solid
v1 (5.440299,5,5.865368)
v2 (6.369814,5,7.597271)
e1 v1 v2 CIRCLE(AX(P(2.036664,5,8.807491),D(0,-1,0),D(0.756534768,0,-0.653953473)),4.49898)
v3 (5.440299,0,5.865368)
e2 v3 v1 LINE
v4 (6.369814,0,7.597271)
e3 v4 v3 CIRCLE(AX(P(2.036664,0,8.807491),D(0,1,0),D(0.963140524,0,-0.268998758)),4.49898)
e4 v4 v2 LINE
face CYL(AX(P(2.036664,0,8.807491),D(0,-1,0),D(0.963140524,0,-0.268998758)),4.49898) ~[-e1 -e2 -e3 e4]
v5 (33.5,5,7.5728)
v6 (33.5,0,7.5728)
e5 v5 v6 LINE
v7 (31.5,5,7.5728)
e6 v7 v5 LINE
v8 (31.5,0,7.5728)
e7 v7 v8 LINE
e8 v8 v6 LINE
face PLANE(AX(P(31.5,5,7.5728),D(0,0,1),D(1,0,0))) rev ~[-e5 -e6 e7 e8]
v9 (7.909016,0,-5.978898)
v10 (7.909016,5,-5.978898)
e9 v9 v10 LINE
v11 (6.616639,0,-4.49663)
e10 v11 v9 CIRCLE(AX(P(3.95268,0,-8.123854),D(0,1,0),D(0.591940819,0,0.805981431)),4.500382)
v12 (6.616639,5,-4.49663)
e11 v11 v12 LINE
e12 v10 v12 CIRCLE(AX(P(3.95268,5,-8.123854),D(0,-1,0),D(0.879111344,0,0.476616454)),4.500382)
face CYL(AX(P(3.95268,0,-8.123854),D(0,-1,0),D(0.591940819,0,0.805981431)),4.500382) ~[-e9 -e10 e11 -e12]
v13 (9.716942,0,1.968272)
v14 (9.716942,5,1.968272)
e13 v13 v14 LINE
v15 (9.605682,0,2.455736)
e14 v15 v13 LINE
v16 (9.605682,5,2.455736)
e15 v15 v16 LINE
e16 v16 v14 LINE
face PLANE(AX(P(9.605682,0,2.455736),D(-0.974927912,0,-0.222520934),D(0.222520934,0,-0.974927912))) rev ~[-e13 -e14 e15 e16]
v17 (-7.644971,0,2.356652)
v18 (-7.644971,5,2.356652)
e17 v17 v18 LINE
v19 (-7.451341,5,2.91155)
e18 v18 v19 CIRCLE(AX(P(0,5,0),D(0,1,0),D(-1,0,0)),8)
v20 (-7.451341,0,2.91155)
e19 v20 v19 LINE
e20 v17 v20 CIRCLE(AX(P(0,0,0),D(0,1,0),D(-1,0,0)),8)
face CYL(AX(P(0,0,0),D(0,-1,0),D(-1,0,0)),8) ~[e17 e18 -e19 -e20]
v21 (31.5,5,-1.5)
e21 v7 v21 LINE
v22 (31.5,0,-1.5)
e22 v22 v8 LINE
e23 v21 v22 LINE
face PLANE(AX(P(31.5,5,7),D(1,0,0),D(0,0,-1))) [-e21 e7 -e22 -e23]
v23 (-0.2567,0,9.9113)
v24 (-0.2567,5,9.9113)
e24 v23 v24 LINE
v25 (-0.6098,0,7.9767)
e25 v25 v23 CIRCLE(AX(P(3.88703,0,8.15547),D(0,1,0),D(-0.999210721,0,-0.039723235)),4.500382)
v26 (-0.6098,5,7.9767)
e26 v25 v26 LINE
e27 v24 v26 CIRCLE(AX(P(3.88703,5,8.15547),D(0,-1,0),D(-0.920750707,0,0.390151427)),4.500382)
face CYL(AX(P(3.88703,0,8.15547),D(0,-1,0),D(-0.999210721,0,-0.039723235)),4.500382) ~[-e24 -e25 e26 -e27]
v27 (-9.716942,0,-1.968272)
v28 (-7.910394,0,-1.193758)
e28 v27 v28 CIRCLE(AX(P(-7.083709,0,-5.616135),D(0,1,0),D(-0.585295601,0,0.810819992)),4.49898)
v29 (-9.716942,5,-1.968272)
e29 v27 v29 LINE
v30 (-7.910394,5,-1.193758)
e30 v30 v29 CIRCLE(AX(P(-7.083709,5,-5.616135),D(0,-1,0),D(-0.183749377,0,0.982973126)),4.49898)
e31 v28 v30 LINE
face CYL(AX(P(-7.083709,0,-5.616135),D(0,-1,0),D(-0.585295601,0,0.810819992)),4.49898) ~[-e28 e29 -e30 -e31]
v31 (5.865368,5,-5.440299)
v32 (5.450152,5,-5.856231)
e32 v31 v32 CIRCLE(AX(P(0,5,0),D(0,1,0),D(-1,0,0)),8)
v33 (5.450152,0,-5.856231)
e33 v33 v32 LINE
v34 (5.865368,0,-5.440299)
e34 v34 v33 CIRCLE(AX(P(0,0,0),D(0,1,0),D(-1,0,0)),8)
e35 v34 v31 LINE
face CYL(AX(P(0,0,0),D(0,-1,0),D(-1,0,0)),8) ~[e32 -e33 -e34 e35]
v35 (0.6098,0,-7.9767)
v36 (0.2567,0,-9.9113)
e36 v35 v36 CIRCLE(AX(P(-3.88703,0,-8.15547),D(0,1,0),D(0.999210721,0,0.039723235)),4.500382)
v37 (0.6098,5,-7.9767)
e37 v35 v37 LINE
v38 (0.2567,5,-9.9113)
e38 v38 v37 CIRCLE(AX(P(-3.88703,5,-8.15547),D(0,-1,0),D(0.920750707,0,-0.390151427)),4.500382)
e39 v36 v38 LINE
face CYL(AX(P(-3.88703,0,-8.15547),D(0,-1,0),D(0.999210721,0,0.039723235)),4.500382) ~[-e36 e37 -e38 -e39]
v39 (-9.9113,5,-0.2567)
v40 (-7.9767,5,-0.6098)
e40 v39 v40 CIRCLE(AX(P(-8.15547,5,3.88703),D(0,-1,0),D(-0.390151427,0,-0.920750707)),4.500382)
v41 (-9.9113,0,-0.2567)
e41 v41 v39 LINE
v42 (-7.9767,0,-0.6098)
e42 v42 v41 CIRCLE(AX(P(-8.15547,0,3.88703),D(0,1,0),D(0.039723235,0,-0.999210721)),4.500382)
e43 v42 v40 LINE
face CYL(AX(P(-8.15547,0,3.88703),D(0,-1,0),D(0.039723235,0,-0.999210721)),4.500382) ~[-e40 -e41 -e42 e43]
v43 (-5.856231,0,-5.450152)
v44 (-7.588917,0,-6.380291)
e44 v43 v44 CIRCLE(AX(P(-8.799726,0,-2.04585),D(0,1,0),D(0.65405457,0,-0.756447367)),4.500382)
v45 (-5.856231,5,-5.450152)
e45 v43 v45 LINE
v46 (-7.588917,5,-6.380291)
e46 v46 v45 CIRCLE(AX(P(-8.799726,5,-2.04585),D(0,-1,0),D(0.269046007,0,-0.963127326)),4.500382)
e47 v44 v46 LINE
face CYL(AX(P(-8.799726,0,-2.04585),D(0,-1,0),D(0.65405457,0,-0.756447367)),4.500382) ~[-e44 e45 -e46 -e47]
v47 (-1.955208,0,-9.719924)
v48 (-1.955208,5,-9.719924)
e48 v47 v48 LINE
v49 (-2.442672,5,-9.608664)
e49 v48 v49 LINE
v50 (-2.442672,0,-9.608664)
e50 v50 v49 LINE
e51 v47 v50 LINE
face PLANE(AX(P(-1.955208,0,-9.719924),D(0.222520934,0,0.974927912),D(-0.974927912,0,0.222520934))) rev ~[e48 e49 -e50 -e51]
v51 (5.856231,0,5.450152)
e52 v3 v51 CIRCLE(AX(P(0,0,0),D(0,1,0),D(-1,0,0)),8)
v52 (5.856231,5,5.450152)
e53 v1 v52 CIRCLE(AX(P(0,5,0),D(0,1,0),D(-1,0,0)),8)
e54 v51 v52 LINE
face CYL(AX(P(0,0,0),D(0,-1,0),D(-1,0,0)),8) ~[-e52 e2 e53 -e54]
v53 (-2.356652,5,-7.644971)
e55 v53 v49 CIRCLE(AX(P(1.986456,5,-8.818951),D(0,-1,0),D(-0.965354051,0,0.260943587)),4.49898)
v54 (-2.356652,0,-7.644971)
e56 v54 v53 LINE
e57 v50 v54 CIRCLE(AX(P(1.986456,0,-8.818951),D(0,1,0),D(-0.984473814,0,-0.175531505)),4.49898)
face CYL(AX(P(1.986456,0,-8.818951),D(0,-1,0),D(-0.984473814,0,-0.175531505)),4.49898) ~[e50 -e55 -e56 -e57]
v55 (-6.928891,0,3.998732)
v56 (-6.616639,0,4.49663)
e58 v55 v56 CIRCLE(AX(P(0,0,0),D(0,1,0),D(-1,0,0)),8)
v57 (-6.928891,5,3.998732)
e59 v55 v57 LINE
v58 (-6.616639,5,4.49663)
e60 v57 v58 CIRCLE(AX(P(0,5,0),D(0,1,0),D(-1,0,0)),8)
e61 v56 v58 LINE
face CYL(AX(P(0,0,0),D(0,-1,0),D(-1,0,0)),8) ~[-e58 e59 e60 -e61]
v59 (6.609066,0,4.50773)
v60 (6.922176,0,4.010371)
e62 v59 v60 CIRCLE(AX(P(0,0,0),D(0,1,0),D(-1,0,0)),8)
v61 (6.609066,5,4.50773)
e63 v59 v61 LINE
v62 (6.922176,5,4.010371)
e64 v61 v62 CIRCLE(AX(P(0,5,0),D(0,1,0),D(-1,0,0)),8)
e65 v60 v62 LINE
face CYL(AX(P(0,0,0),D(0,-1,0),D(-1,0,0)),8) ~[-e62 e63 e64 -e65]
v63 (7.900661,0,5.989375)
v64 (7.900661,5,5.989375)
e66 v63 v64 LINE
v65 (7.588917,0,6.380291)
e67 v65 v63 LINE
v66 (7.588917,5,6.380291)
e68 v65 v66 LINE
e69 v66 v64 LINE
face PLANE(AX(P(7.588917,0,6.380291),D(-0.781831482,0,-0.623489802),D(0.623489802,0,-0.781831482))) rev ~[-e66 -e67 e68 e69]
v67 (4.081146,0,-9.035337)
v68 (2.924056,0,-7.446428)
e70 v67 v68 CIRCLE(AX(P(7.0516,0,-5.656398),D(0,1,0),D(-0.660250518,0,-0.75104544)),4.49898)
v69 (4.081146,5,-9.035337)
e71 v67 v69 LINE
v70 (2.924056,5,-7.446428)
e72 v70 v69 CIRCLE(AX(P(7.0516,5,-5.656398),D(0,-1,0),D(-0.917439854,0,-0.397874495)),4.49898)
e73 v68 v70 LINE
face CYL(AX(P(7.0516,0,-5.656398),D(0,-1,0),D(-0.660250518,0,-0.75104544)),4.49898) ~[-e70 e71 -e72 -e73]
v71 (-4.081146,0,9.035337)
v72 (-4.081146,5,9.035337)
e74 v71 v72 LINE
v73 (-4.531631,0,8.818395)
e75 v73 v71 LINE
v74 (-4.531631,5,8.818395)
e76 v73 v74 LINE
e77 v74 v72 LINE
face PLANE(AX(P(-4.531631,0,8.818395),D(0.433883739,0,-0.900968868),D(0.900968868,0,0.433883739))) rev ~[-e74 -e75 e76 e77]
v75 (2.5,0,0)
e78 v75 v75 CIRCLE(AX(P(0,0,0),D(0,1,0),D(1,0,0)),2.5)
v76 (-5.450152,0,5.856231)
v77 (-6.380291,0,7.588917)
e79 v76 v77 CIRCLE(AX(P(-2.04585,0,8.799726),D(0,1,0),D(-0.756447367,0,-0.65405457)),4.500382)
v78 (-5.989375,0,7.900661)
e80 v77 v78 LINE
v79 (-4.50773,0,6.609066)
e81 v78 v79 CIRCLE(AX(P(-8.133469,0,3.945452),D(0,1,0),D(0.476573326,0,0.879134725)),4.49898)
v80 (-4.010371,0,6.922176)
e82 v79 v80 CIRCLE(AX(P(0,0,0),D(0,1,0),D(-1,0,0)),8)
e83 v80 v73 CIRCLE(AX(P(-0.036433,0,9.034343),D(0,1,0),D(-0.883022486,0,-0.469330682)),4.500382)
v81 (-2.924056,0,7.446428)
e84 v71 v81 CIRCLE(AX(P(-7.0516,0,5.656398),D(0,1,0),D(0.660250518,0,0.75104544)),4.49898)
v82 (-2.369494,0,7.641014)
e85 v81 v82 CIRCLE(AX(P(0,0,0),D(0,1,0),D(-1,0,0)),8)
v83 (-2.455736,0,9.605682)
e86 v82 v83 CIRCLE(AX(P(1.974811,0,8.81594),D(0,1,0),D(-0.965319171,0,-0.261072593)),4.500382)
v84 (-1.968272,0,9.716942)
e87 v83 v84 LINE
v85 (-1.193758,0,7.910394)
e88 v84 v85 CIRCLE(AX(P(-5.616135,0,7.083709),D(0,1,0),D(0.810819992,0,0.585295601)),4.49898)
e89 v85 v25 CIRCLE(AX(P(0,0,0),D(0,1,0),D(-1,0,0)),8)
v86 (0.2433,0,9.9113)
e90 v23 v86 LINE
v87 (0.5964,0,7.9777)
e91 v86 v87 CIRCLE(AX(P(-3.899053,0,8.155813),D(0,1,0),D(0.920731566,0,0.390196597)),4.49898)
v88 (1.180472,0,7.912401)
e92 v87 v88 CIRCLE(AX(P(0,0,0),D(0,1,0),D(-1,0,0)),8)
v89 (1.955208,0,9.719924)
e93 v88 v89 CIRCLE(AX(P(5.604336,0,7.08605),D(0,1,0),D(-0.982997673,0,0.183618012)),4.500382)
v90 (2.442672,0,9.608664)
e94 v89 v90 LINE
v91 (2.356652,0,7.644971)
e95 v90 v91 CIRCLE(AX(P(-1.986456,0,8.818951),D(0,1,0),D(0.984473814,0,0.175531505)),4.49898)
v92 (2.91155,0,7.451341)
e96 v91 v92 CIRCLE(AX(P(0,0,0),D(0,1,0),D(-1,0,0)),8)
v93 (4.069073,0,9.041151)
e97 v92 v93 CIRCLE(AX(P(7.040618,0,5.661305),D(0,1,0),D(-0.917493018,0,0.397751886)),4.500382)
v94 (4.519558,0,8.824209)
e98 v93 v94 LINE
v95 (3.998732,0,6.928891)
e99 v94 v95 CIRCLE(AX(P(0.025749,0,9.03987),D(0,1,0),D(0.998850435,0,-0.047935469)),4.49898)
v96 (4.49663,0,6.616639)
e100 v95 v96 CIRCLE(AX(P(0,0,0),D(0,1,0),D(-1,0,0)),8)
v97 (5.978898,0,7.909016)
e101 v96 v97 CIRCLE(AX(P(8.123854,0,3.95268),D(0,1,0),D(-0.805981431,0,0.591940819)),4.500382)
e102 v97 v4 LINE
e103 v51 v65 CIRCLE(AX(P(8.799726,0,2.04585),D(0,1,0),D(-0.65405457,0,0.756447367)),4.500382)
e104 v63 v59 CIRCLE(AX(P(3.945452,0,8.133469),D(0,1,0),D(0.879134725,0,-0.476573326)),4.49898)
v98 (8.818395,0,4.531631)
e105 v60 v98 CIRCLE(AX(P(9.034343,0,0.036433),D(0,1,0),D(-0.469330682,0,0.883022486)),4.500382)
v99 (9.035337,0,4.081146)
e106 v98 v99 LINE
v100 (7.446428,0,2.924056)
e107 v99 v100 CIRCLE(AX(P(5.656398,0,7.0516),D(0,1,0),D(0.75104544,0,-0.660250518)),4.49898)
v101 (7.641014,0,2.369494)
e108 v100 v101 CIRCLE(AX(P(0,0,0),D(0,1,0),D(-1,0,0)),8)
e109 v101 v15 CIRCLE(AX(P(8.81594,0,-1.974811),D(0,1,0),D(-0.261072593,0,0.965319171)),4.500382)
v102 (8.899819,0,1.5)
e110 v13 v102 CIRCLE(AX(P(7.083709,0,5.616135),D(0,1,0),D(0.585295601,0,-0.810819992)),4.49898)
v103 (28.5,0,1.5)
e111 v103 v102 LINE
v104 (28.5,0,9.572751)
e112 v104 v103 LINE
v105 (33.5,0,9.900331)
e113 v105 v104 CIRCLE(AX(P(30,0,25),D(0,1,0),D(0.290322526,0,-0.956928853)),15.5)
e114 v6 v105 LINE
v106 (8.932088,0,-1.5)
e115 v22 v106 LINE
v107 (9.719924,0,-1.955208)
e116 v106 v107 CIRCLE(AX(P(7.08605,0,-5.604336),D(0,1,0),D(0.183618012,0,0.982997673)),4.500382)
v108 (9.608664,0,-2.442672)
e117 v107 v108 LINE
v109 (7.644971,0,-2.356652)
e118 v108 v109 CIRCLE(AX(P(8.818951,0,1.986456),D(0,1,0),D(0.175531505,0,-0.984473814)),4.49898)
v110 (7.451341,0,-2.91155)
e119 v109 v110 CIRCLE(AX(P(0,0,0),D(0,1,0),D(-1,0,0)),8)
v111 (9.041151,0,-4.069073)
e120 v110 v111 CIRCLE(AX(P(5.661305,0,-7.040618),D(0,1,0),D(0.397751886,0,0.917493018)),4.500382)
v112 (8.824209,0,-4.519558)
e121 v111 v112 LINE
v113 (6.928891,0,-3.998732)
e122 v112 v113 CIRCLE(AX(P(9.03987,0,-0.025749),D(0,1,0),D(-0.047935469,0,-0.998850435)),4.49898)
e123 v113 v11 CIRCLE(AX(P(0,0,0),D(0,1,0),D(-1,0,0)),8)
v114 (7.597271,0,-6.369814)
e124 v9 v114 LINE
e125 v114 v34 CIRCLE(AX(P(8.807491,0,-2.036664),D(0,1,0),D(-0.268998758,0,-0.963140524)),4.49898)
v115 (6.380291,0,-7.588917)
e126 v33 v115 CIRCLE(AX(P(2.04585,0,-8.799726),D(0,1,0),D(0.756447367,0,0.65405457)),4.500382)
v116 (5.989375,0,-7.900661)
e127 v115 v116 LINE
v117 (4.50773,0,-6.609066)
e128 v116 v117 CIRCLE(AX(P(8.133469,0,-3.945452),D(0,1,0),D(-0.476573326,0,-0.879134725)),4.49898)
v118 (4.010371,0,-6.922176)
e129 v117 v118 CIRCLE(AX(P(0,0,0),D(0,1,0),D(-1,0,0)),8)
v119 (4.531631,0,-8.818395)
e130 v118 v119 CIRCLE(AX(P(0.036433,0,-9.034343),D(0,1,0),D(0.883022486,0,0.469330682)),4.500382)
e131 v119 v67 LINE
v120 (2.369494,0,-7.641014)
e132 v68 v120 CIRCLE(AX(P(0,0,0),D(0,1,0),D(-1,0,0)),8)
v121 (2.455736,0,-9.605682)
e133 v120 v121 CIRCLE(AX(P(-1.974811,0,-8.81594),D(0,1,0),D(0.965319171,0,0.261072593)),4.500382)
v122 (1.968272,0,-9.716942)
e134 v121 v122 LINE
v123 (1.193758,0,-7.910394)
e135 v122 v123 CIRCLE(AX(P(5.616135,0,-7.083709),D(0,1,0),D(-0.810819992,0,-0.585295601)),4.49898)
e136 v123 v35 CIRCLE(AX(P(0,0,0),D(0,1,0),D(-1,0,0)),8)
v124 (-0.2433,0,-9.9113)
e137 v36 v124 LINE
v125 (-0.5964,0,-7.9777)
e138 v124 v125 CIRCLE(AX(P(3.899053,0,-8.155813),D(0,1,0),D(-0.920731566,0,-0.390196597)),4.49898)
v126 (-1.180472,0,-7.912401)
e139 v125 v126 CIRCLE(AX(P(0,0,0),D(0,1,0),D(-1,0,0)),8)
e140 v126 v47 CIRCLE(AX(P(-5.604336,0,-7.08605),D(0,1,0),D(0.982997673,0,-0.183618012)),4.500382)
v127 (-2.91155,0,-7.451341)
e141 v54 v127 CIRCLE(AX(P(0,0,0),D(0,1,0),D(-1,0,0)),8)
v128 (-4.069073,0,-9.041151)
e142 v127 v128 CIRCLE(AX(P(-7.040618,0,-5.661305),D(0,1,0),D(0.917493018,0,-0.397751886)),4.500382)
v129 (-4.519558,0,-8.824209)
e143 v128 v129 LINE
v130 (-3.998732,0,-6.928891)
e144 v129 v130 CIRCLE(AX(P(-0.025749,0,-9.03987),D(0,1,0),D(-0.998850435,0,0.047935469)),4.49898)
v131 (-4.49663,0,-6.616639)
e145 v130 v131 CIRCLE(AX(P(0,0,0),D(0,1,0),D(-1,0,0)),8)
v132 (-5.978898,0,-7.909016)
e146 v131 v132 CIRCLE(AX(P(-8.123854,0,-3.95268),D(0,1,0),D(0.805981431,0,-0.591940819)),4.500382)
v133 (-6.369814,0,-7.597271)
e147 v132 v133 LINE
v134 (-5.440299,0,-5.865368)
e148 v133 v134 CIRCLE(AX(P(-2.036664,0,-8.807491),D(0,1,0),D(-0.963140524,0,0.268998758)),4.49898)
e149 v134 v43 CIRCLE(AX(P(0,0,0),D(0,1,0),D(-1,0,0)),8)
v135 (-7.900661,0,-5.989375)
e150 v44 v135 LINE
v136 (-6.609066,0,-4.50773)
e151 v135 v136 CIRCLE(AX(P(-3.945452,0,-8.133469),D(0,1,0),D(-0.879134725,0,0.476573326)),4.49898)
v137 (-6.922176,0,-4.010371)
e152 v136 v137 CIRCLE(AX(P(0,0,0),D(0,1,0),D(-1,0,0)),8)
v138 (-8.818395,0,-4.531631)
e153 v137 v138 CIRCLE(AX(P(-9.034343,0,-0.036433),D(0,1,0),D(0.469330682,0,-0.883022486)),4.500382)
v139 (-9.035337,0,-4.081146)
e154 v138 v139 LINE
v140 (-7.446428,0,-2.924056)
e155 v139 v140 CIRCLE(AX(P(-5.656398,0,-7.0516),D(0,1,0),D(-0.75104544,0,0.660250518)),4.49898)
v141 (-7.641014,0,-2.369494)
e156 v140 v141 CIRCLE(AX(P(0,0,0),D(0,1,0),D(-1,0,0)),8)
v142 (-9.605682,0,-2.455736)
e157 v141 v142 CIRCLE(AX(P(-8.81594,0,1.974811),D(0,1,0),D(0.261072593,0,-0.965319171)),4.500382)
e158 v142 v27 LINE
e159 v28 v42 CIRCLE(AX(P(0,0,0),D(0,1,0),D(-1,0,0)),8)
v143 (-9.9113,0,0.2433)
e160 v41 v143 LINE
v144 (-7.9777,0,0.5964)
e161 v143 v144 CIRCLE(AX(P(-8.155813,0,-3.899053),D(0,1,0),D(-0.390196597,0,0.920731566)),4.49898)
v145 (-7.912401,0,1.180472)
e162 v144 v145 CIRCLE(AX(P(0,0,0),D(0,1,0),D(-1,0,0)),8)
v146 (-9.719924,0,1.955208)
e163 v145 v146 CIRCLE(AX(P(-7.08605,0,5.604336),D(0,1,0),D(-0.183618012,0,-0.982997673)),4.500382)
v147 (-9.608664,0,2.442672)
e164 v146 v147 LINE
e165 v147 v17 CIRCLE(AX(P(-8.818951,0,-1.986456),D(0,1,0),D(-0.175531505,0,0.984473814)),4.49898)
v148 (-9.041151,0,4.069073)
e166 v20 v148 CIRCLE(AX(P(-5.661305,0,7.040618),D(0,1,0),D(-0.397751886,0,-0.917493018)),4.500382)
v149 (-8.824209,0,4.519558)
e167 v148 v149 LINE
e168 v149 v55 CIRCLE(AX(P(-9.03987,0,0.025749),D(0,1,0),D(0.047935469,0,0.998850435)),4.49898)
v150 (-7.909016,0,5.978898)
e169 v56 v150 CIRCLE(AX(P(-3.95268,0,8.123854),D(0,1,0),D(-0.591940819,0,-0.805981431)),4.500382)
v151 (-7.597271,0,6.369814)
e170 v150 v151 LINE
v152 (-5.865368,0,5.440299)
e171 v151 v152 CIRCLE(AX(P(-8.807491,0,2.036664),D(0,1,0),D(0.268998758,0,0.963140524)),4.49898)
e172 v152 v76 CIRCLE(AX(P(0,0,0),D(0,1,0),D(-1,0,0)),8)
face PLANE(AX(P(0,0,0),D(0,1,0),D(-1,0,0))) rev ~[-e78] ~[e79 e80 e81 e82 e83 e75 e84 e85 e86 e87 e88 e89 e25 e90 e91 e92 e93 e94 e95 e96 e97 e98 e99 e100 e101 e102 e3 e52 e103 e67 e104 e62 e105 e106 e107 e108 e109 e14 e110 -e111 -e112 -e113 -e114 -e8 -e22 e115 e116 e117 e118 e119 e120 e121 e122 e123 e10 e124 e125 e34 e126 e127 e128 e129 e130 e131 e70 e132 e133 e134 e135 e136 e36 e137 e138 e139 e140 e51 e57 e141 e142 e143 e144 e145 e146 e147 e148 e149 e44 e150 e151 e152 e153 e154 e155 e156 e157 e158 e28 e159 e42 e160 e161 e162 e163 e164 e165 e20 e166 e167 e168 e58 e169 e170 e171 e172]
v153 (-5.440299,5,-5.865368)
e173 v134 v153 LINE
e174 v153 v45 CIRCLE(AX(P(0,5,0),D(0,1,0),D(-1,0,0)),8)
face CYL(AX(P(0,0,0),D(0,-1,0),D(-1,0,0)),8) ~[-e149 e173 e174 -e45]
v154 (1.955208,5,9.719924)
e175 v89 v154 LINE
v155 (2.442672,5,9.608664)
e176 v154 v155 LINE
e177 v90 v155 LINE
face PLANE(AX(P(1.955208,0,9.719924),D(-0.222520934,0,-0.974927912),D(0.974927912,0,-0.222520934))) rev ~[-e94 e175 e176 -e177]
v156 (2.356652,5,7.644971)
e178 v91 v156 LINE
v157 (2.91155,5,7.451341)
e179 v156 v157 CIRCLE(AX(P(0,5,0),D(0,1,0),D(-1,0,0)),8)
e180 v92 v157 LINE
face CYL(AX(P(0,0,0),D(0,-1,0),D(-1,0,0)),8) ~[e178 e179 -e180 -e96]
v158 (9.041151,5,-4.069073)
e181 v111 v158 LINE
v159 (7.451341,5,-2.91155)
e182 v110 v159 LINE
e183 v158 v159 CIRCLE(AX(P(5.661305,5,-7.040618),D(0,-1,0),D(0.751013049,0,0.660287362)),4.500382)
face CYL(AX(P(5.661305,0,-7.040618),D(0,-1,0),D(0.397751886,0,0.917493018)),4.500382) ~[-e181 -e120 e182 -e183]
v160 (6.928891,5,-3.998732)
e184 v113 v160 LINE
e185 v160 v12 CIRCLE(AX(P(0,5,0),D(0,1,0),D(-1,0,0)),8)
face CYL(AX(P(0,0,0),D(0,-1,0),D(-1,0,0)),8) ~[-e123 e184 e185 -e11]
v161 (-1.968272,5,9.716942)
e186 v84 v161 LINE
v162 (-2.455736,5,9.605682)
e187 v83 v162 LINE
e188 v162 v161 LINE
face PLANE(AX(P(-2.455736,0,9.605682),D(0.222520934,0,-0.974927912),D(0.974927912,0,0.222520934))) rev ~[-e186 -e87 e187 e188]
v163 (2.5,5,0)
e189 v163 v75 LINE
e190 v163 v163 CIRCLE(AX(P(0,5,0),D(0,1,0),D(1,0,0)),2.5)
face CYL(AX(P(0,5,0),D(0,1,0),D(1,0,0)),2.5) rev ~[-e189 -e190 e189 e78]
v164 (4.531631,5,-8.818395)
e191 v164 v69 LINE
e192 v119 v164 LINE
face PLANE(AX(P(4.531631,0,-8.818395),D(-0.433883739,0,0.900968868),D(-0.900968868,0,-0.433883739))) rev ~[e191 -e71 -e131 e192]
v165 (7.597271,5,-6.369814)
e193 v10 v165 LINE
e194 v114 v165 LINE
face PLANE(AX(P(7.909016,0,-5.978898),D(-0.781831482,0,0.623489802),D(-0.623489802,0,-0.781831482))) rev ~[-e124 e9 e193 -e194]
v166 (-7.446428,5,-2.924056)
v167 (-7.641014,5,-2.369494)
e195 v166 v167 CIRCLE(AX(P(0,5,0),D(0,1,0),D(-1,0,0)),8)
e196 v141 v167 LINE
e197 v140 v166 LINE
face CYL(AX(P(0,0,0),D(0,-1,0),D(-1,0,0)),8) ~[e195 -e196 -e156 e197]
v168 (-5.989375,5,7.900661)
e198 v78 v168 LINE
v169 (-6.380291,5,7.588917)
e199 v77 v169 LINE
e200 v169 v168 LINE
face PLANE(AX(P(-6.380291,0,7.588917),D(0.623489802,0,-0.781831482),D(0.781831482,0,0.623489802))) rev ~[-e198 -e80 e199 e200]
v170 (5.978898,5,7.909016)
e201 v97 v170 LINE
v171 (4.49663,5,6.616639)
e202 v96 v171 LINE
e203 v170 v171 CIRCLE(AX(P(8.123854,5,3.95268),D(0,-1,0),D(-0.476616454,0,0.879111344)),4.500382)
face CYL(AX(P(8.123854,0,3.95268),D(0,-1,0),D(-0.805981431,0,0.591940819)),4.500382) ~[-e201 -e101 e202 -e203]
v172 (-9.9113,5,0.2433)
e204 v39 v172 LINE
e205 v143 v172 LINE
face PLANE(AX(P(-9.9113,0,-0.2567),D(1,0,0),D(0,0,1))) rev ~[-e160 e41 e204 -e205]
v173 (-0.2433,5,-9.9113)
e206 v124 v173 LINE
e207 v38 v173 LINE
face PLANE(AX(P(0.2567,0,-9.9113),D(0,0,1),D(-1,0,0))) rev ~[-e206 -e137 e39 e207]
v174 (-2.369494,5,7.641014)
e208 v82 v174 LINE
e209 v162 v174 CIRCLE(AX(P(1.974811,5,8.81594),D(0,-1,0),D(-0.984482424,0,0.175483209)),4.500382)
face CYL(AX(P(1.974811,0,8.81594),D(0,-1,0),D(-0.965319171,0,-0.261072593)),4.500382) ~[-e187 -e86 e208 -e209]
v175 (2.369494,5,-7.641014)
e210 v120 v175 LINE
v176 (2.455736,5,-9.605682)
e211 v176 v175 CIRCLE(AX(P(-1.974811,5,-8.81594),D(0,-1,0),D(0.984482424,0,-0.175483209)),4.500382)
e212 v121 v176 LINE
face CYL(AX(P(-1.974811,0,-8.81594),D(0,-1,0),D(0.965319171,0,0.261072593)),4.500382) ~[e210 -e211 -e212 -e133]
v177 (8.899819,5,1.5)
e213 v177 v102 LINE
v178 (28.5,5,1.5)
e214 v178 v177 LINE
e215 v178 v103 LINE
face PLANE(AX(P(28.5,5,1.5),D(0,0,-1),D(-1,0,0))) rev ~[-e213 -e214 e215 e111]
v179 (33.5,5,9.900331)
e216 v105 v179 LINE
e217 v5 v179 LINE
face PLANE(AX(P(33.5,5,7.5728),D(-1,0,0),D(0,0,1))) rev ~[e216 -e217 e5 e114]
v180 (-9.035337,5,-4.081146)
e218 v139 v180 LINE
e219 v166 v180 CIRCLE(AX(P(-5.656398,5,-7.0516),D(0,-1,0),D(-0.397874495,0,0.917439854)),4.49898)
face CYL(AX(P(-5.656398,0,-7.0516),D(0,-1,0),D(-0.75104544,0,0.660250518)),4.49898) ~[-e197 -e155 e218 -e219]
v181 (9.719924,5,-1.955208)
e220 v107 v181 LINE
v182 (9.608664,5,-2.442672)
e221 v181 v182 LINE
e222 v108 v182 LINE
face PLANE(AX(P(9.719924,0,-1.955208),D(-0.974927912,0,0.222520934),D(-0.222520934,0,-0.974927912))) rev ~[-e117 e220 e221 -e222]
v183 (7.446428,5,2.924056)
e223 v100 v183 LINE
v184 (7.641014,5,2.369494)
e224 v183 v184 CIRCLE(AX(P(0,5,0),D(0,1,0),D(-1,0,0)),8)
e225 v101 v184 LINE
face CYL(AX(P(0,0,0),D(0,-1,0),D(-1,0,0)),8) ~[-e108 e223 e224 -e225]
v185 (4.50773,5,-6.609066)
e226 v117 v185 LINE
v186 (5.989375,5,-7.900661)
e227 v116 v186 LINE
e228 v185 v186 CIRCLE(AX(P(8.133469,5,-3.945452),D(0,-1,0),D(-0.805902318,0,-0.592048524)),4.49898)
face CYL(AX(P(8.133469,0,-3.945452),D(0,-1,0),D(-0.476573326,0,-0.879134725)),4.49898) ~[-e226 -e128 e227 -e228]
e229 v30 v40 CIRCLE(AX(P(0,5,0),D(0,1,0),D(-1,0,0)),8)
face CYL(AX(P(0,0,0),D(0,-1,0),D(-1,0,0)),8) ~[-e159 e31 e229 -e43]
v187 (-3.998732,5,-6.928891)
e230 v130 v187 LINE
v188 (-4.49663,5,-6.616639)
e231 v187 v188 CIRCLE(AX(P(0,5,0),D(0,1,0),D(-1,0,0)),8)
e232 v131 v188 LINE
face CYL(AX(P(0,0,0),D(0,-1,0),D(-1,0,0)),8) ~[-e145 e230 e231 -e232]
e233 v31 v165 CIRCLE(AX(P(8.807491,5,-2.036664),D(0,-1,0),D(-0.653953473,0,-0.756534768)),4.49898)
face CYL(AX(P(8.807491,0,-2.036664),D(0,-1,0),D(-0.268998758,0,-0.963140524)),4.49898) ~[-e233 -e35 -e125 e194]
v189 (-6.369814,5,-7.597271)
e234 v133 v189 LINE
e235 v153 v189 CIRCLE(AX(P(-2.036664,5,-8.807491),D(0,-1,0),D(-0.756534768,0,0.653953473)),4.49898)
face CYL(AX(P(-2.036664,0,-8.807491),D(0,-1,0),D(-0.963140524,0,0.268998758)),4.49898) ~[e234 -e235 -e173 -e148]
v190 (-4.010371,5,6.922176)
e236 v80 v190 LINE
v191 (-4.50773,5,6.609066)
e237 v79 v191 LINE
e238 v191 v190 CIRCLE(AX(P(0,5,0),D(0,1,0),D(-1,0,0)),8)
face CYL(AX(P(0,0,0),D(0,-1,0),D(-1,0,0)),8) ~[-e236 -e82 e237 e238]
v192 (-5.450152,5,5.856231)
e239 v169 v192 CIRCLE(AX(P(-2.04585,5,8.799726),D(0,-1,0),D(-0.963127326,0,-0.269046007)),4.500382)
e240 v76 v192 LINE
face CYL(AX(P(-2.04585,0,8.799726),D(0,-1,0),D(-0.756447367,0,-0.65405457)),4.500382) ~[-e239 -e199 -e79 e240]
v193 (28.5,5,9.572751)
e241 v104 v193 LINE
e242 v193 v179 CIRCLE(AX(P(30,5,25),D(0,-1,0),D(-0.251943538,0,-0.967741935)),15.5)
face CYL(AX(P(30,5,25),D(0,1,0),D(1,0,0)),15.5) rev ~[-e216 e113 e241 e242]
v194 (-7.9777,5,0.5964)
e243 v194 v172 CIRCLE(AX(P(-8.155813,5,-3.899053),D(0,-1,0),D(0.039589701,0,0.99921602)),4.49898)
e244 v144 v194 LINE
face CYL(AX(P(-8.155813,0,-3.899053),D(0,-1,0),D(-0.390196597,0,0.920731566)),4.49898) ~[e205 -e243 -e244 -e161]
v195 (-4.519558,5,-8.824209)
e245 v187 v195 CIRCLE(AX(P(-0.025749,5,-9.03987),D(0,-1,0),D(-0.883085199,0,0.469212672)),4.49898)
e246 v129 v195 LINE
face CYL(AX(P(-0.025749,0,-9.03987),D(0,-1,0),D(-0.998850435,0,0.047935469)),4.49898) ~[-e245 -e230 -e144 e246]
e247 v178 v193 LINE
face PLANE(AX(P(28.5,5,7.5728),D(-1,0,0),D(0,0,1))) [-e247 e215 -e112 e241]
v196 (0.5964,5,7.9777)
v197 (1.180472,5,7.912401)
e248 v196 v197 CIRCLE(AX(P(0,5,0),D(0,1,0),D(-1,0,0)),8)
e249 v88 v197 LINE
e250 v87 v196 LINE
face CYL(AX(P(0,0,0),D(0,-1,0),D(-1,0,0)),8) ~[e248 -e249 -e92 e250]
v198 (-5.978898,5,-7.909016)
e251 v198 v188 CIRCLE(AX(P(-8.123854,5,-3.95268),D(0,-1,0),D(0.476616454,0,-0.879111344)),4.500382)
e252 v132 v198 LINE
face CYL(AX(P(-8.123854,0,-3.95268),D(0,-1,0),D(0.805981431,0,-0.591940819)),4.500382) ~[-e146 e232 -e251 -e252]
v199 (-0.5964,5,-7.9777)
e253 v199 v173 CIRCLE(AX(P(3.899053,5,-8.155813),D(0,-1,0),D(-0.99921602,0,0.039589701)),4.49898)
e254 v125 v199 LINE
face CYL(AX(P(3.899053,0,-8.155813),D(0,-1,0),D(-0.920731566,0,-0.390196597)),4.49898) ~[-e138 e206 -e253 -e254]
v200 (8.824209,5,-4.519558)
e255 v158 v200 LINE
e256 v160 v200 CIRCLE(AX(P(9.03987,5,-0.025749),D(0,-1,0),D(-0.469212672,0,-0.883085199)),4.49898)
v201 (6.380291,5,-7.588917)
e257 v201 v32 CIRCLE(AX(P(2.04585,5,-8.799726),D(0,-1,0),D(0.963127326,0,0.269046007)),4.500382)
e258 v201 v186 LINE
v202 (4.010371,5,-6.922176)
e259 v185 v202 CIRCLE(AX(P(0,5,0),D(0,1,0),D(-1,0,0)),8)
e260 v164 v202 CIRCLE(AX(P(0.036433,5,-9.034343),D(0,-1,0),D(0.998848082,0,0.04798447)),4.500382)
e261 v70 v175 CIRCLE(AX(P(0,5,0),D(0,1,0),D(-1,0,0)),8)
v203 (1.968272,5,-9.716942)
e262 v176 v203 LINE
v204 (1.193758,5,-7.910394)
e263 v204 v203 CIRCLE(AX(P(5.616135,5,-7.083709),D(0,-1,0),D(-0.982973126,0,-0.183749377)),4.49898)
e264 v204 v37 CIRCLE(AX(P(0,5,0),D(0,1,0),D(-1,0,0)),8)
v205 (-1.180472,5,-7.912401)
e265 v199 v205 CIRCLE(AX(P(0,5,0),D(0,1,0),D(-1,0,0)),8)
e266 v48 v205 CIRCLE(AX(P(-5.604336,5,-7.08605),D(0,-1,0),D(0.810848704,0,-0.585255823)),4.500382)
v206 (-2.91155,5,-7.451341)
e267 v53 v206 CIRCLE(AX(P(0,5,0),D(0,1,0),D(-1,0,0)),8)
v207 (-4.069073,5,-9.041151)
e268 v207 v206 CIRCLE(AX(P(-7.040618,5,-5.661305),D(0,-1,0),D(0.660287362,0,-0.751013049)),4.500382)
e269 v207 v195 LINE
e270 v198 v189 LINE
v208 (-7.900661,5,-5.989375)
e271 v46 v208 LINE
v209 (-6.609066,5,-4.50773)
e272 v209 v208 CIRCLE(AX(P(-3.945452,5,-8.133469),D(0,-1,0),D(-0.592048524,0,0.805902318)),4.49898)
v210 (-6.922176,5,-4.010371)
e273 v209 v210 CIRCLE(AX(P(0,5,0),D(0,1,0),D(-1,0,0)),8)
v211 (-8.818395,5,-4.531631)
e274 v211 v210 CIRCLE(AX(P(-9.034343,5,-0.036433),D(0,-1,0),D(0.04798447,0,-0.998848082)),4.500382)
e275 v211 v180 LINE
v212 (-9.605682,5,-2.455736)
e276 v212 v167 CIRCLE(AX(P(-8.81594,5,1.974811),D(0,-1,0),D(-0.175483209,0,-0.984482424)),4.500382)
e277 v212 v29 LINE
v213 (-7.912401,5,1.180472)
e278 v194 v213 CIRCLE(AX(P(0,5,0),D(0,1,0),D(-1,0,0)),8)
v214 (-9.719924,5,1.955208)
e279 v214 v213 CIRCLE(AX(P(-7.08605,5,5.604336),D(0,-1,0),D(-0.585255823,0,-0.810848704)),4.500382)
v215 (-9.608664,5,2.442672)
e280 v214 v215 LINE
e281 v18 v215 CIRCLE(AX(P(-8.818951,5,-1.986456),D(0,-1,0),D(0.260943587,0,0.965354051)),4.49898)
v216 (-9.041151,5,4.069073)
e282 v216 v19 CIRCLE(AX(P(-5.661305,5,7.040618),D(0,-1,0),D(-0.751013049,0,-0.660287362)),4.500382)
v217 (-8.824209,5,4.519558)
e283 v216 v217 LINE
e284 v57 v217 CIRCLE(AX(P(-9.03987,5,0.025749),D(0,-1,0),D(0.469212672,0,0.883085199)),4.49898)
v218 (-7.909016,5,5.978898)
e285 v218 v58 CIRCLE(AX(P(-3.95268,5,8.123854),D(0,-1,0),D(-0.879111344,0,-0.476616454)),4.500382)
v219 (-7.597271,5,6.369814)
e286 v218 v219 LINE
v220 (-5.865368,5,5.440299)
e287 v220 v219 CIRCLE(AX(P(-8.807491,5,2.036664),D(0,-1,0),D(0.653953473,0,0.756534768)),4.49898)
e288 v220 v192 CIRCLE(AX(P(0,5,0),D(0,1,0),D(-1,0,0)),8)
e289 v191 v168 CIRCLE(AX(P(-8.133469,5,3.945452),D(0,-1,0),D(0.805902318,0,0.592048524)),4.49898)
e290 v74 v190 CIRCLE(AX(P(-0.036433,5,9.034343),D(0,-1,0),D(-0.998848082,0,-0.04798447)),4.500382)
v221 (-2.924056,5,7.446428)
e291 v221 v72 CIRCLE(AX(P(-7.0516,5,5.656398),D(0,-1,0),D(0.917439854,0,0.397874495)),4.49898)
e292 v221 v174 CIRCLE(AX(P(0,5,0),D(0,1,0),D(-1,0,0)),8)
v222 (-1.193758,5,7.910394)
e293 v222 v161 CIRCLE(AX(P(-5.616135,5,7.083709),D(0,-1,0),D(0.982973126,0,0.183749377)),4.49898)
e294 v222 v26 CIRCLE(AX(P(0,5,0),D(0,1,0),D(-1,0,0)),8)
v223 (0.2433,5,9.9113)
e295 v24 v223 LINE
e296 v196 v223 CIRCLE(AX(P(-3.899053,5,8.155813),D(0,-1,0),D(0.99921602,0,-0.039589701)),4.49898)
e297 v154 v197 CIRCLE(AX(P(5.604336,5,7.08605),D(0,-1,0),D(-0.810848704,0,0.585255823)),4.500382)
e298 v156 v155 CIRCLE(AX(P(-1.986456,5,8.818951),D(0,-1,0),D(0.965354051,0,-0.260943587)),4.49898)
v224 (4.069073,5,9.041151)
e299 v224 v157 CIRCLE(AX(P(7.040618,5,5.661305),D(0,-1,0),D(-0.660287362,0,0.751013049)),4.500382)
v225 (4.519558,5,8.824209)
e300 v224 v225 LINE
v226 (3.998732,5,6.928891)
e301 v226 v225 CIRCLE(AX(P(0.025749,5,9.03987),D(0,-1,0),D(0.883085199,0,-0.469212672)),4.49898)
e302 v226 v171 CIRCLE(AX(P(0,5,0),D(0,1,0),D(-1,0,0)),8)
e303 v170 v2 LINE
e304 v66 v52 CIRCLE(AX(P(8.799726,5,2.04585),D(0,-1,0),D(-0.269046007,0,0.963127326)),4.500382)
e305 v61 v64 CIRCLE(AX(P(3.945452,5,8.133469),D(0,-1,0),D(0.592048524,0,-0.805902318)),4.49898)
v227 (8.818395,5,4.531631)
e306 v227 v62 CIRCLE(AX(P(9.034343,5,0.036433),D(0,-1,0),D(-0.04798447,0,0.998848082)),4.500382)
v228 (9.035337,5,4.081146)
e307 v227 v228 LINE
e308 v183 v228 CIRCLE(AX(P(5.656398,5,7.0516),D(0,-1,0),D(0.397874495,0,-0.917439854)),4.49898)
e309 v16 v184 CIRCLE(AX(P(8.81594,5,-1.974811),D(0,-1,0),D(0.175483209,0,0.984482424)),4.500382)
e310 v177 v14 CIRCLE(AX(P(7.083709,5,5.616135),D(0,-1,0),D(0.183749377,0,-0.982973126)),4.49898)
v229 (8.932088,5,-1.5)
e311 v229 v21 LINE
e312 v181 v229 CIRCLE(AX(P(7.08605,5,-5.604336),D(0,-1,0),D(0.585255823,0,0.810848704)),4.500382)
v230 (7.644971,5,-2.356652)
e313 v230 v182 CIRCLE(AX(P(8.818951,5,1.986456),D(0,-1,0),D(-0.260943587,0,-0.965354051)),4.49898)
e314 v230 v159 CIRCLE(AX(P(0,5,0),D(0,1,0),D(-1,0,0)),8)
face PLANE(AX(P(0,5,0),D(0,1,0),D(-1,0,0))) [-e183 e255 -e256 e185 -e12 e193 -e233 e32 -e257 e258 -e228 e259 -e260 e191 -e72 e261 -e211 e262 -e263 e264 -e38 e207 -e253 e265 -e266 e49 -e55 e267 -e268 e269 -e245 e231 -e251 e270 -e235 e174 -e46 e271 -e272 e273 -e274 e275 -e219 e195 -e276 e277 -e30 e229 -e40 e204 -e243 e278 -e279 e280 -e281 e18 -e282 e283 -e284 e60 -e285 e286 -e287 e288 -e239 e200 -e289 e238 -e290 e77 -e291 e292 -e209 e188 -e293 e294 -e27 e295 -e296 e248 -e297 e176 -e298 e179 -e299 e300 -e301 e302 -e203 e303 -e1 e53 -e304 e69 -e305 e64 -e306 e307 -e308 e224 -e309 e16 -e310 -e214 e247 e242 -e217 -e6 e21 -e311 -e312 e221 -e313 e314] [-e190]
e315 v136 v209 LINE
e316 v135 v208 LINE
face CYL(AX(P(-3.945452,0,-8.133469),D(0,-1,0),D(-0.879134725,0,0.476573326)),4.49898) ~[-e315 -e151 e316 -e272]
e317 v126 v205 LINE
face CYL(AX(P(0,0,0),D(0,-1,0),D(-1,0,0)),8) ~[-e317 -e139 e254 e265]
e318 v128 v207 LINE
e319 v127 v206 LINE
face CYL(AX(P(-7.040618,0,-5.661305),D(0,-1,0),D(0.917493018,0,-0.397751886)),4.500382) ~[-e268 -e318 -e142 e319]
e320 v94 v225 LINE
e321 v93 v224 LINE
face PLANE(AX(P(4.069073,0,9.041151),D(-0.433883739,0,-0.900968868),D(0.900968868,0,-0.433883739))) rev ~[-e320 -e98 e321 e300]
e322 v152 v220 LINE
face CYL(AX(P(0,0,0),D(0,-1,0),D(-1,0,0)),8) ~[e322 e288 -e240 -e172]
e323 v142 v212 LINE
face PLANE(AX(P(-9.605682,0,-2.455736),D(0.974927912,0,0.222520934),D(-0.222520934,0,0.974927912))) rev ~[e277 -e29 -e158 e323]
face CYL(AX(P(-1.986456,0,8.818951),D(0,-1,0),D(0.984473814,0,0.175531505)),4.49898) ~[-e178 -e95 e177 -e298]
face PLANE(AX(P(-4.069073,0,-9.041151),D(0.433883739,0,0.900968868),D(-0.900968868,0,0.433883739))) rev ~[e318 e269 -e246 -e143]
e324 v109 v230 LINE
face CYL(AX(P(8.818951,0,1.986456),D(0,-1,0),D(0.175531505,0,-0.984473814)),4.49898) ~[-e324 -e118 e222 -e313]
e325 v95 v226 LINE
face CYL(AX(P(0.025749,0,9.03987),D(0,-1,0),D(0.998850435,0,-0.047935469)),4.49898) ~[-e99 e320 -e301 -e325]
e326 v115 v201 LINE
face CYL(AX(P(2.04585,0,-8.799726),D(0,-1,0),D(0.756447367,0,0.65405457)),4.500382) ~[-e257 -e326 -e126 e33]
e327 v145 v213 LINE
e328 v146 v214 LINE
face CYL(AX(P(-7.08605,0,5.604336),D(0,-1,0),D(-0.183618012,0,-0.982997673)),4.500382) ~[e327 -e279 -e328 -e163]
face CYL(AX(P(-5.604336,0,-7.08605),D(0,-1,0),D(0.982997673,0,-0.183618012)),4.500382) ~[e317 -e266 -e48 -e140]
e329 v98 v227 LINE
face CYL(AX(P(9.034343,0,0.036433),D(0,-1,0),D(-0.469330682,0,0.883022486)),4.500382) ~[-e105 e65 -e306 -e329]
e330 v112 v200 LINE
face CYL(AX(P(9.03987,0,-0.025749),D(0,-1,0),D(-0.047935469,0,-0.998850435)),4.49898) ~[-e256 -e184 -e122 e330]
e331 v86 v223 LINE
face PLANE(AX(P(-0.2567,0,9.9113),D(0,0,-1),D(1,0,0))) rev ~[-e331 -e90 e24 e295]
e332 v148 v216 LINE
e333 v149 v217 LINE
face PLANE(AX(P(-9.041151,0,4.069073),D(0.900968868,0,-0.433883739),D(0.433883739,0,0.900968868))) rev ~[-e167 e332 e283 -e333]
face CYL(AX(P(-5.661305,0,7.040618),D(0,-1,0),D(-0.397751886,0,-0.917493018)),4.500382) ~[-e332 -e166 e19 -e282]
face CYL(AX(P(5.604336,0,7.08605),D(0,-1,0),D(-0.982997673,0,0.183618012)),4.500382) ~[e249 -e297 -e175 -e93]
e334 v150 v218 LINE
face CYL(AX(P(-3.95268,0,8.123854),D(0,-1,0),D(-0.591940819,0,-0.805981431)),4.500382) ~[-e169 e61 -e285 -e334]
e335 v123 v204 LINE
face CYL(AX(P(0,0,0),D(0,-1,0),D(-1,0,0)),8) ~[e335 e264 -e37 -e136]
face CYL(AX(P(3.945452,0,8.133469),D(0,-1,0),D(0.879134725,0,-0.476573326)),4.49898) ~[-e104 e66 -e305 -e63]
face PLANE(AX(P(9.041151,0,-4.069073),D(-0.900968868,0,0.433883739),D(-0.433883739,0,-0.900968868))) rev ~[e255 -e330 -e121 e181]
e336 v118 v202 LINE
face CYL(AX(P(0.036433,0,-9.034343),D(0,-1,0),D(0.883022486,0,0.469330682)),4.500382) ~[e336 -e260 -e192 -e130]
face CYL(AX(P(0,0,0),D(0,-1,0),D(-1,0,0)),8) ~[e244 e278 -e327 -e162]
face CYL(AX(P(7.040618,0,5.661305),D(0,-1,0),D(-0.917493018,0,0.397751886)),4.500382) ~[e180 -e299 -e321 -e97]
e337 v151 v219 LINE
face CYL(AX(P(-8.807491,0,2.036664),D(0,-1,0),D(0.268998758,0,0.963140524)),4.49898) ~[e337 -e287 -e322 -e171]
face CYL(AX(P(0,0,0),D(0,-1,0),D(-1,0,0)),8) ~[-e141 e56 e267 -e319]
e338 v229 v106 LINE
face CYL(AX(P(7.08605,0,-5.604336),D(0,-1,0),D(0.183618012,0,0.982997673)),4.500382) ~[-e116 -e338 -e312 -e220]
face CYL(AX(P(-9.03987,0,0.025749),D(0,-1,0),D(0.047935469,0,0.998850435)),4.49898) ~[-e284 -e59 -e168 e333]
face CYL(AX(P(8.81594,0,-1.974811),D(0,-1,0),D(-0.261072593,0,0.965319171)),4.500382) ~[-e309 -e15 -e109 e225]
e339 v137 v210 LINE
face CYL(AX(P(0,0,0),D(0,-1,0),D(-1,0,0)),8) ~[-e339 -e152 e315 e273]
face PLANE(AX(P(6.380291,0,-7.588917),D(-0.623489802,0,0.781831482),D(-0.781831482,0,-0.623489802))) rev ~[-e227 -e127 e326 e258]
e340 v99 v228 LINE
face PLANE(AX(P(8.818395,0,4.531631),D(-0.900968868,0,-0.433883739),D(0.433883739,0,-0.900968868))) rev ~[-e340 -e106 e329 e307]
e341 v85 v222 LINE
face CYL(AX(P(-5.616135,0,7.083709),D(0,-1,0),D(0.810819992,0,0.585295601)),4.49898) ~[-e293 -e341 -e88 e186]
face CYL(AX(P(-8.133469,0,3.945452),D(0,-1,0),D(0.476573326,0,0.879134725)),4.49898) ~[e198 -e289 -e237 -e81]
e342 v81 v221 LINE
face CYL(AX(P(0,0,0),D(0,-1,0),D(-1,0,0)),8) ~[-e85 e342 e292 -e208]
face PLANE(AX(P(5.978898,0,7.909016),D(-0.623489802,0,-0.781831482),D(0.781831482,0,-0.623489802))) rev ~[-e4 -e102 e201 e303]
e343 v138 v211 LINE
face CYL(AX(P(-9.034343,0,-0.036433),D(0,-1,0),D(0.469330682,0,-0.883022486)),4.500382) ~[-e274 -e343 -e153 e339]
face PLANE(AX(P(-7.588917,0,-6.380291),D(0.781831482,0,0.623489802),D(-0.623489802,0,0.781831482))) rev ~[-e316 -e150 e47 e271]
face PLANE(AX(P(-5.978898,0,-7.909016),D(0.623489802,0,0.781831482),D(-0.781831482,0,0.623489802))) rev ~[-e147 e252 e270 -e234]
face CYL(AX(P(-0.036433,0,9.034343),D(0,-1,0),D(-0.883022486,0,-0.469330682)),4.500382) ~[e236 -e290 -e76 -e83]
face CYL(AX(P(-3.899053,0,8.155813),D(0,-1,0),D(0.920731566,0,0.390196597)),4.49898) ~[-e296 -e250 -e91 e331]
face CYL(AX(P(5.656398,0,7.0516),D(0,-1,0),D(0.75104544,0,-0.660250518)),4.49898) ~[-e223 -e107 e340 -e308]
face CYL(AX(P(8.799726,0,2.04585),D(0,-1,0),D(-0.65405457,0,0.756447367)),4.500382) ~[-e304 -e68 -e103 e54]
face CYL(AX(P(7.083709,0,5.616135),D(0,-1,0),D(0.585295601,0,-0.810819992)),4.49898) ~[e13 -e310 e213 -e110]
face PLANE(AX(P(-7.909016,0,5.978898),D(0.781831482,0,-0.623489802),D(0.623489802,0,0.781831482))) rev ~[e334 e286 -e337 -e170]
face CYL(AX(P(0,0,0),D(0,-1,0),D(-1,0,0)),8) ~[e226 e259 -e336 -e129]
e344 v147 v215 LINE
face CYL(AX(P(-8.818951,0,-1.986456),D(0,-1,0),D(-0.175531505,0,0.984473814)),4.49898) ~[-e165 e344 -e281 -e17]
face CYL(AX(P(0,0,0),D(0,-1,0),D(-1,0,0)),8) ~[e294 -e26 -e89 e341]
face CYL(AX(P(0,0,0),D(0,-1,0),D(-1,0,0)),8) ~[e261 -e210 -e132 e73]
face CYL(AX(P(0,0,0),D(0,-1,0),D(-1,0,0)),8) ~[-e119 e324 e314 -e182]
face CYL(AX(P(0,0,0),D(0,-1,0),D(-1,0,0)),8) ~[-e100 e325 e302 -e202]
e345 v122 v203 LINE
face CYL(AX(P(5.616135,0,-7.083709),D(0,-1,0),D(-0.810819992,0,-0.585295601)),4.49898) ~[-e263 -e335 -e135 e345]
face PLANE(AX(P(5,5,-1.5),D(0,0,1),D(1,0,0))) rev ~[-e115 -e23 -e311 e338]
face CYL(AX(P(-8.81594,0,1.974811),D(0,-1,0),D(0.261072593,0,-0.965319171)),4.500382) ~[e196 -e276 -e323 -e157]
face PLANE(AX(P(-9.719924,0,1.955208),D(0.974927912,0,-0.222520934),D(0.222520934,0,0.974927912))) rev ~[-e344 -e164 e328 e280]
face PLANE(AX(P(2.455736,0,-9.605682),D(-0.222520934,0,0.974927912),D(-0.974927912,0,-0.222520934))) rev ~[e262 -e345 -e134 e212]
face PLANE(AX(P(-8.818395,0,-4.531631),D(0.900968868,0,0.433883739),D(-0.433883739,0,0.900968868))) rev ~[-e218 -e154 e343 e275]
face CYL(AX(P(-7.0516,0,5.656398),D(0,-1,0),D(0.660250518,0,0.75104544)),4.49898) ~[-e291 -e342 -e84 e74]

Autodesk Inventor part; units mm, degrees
ref_plane "YZ Plane" through (0, 0, 0) normal (1, 0, 0) x (0, 1, 0)
ref_plane "XZ Plane" through (0, 0, 0) normal (0, 1, 0) x (-1, 0, 0)
ref_plane "XY Plane" through (0, 0, 0) normal (0, 0, 1) x (1, 0, 0)
sketch "Sketch1" plane through (0, 0, 0) normal (0, 1, 0) x (-1, 0, 0)
  circle A0 centre (0, 0) radius 8
  circle A1 centre (0, 0) radius 2
  line L0 (7.9113, 0.5933) -> (7.9113, -0.6067)
  line L1 (9.9113, -0.2567) -> (9.9113, 0.2433)
  line L2 (7.6237, -0.0067) -> (9.0479, -0.0067) construction
  arc A2 (9.9113, 0.2433) -> (7.9113, 0.5933) centre (8.1555, -3.9001) ccw construction
  arc A3 (7.9113, -0.6067) -> (9.9113, -0.2567) centre (8.1555, 3.8866) ccw construction
  arc A4 (9.9113, 0.2433) -> (7.9113, 0.5933) centre (8.1555, -3.9001) ccw construction
  arc A5 (9.9113, 0.2433) -> (7.9777, 0.5964) centre (8.1555, -3.9001) ccw
  arc A6 (7.9767, -0.6098) -> (9.9113, -0.2567) centre (8.1555, 3.8866) ccw
  line L3 (9.4, 0) -> (9.4, -0.4379)
  line L4 (9.4, 0) -> (9.4, 0.4244)
  arc A7 (5.296, -1.8919) -> (5.296, 1.8784) centre (4.6281, -0.0067) ccw
  circle A8 centre (0, 0) radius 8
  dimension "d0" = 16
  dimension "d1" = 4
  dimension "d2" = 0.25
  dimension "d3" = 0.25
  dimension "d4" = 0.6
  dimension "d7" = 1.2
  dimension "d8" = 4.5
  dimension "d10" = 2
extrude "Extrusion1" add sketch "Sketch1" along normal blind 5
pattern_circular "Circular Pattern1" count 28 over 360 about axis through (0, 0, 0) along (0, 1, 0) of "Extrusion1"
sketch "Sketch8" plane through (0, 5, 0) normal (0, 1, 0) x (1, 0, 0)
  circle A0 centre (0, 0) radius 2.5
  circle A1 centre (0, 0) radius 2
  dimension "d49" = 5
  dimension "d50" = 4
extrude "Extrusion6" cut sketch "Sketch8" against normal blind 13.8125
sketch "Sketch9" plane through (0, 5, 0) normal (0, 1, 0) x (1, 0, 0)
  circle A0 centre (0, 0) radius 2.5 projected
  line L0 (0, 0) -> (30, 0)
  line L1 (30, 0) -> (30, -18)
  line L2 (30, -18) -> (0, -18)
  line L3 (0, -18) -> (0, 0)
  circle A1 centre (0, 0) radius 9.5
  circle A2 centre (0, -18) radius 9.5
  line L4 (30, -9) -> (0, -9)
  circle A3 centre (30, -9) radius 2.5
  line L5 (30, 0) -> (5, 0)
  line L6 (5, 0) -> (5, -1.5)
  line L7 (5, -1.5) -> (30, -1.5)
  line L8 (30, -1.5) -> (30, 0)
  line L9 (5, 0) -> (30, 0)
  line L10 (30, 0) -> (30, 1.5)
  line L11 (30, 1.5) -> (5, 1.5)
  line L12 (5, 1.5) -> (5, 0)
  line L13 (30, 1.5) -> (31.5, 1.5)
  line L14 (31.5, 1.5) -> (31.5, -7.5)
  line L15 (31.5, -7.5) -> (30, -7.5)
  line L16 (30, -7.5) -> (30, 1.5)
  line L17 (30, 1.5) -> (28.5, 1.5)
  line L18 (28.5, 1.5) -> (28.5, -7.5)
  line L19 (28.5, -7.5) -> (30, -7.5)
  line L20 (30, -7.5) -> (30, 1.5)
  circle A4 centre (30, -9) radius 1.5
  line L21 (27.5, -9) -> (32.5, -9)
  line L22 (32.5, -9) -> (32.5, -8.5)
  line L23 (32.5, -8.5) -> (27.5, -8.5)
  line L24 (27.5, -8.5) -> (27.5, -9)
  line L25 (28.5, -7.5) -> (27.5, -8.5)
  line L26 (31.5, -7.5) -> (32.5, -8.5)
  line L27 (27.5, -8.5) -> (28.5, -8.5)
  line L28 (32.5, -8.5) -> (31.5, -8.5)
  line L29 (28.5, -7.5) -> (29, -7.5)
  line L30 (31.5, -7.5) -> (31, -7.5)
  line L31 (31, -7.5) -> (31.5, -8.5)
  line L32 (29, -7.5) -> (28.5, -8.5)
  line L33 (5, 1.5) -> (12.096, 1.5)
  line L34 (12.096, 1.5) -> (12.096, -1.5)
  line L35 (12.096, -1.5) -> (5, -1.5)
  line L36 (5, -1.5) -> (5, 1.5)
  dimension "d57" = 5
  dimension "d53" = 30
  dimension "d54" = 18
  dimension "d55" = 19
  dimension "d56" = 19
  dimension "d58" = 25
  dimension "d59" = 1.5
  dimension "d60" = 1.5
  dimension "d61" = 1.5
  dimension "d62" = 9
  dimension "d63" = 1.5
  dimension "d64" = 3
  dimension "d65" = 5
  dimension "d66" = 0.5
  dimension "d67" = 0.5
  dimension "d68" = 0.5
extrude "Extrusion7" cut sketch "Sketch9" against normal blind 5 contours L12 L11 A1 L0 | L0 A1 L7 L6 | A1 L11 L34 L0 | L0 L34 L7 A1
sketch "Sketch10" plane through (0, 5, 0) normal (0, 1, 0) x (1, 0, 0)
  circle A0 centre (0, 0) radius 2.5 projected
  line L0 (0, 0) -> (30, 0)
  line L1 (30, 0) -> (30, -9)
  line L2 (30, -9) -> (0, -9)
  line L3 (0, -9) -> (0, 0)
  line L4 (5, 1.5) -> (30, 1.5)
  line L5 (30, 1.5) -> (30, -1.5)
  line L6 (30, -1.5) -> (5, -1.5)
  line L7 (5, -1.5) -> (5, 1.5)
  line L8 (31.5, 1.5) -> (28.5, 1.5)
  line L9 (28.5, 1.5) -> (28.5, -7.5)
  line L10 (28.5, -7.5) -> (31.5, -7.5)
  line L11 (31.5, -7.5) -> (31.5, 1.5)
  circle A1 centre (30, -9) radius 1.5
  circle A2 centre (30, -9) radius 2.5
  line L12 (27.5, -9) -> (32.4495, -9)
  line L13 (32.4495, -9) -> (32.4495, -8.5)
  line L14 (27.5, -8.5) -> (27.5, -9)
  line L15 (27.5, -9) -> (32.5, -9)
  line L16 (32.5, -9) -> (32.5, -8.5)
  line L17 (32.5, -8.5) -> (27.5, -8.5)
  line L18 (27.5, -8.5) -> (27.5, -9)
  line L19 (28.5, -7.5) -> (27.5, -8.5)
  line L20 (31.5, -7.5) -> (32.5, -8.5)
  line L21 (28.5, -7.5) -> (29, -7.5)
  line L22 (31.5, -7.5) -> (31, -7.5)
  line L23 (29, -7.5) -> (28.5, -8.5)
  line L24 (31, -7.5) -> (31.5, -8.5)
  point P0 (28.5, -1.5)
  point P1 (28.5, -7)
  point P2 (27.5505, -8.5)
  point P3 (28.5858, -8.5)
  point P4 (31.4142, -8.5)
  point P5 (31.5, -7)
  dimension "d71" = 30
  dimension "d72" = 9
  dimension "d73" = 3
  dimension "d74" = 3
  dimension "d75" = 9
  dimension "d76" = 3
  dimension "d77" = 5
  dimension "d78" = 0.5
  dimension "d79" = 5
  dimension "d80" = 0.5
  dimension "d81" = 0.5
extrude "Extrusion8" add sketch "Sketch10" against normal blind 5 contours L7 L4 L9 L0 | L0 L9 L6 L7 | L9 L4 L5 L0 | L0 L1 L6 L9 | L5 L8 L11 A2 L1 | L6 L1 A2 L9 | A2 L19 L10 L23 L17 | A2 L1 L10 L9 | L9 L19 A2 | L17 L23 L10 A1 | L17 L24 L10 L20 A2 | A2 L11 L10 L1 | L10 L24 L17 A1 | L20 L11 A2
sketch "Sketch11" plane through (0, 5, 0) normal (0, 1, 0) x (1, 0, 0)
  arc A0 (31.4142, -8.5) -> (28.5858, -8.5) centre (30, -9) ccw projected
  circle A1 centre (30, -9) radius 1.5
  line L0 (30, 0) -> (30, -9)
  line L1 (33.5287, -9.8898) -> (25.3685, -9.8898)
  line L2 (25.3685, -9.8898) -> (25.3685, -3.9183)
  line L3 (25.3685, -3.9183) -> (33.5287, -3.9183)
  line L4 (33.5287, -3.9183) -> (33.5287, -9.8898)
  point P0 (0, 0)
  point P1 (28.7925, -9.8898)
  point P2 (31.2075, -9.8898)
extrude "Extrusion9" cut sketch "Sketch11" against normal blind 7.4625 contours A0 L0 L3 L4 L1 A1 | A0 A1 L1 L2 L3 L0
sketch "Sketch14" plane through (0, 5, 0) normal (0, 1, 0) x (1, 0, 0)
  line L0 (0, 0) -> (30, 0)
  line L1 (30, 0) -> (30, -10)
  line L2 (30, -10) -> (0, -10)
  line L3 (0, -10) -> (0, 0)
  line L4 (30, 0) -> (30, -25)
  circle A0 centre (30, -25) radius 15.5
  line L5 (31.5, -3.9183) -> (31.5, 1.5) projected
  line L6 (31.5, 0) -> (22.5, 0)
  line L7 (22.5, 0) -> (22.5, -9.2288)
  line L8 (22.5, -9.2288) -> (31.5, -9.2288)
  line L9 (31.5, -9.2288) -> (31.5, 0)
  line L10 (31.5, -3.9183) -> (28.5, -3.9183) projected
  line L11 (31.5, -3.9183) -> (28.5, -3.9183)
  line L12 (28.5, -3.9183) -> (28.5, -9.2288)
  line L13 (28.5, -9.2288) -> (31.5, -9.2288)
  line L14 (31.5, -9.2288) -> (31.5, -3.9183)
  line L15 (31.5, 0) -> (31.5, -9.5728)
  line L16 (28.5, -3.9183) -> (28.5, -1.5) projected
  line L17 (28.5, -1.5) -> (28.5, -9.5728)
  line L18 (31.5, -9.5728) -> (34.5, -9.5728)
  line L19 (28.5, -3.9183) -> (31.5, -3.9183) projected
  line L20 (28.5, -9.5728) -> (25.5, -9.5728)
  line L21 (25.5, -9.5728) -> (25.5, -10.1676)
  line L22 (34.5, -9.5728) -> (34.5, -10.1676)
  line L23 (34.5, -9.5728) -> (31.5, -9.5728)
  line L24 (31.5, -9.5728) -> (31.5, -7.5728)
  line L25 (31.5, -7.5728) -> (34.5, -7.5728)
  line L26 (34.5, -7.5728) -> (34.5, -9.5728)
  line L27 (28.5, -9.5728) -> (25.5, -9.5728)
  line L28 (25.5, -9.5728) -> (25.5, -7.5728)
  line L29 (25.5, -7.5728) -> (28.5, -7.5728)
  line L30 (28.5, -7.5728) -> (28.5, -9.5728)
  point P0 (25.5, -10)
  point P1 (26.0949, -10)
  dimension "d93" = 30
  dimension "d94" = 10
  dimension "d95" = 25
  dimension "d96" = 31
  dimension "d97" = 9
  dimension "d98" = 3
  dimension "d99" = 3
  dimension "d100" = 2
  dimension "d101" = 3
  dimension "d102" = 2
extrude "Extrusion10" add sketch "Sketch14" against normal blind 5 contours L21 L20 A0 L2 | L10 L9 L8 L1 | L1 L8 L12 L10 | L28 L29 L12 L8 | L8 L17 L20 L28 | L8 L15 A0 L1 | L1 A0 L17 L8 | L9 L25 L26 L18 L15 | A0 L18 L22
sketch "Sketch15" plane through (0, 5, 0) normal (0, 1, 0) x (1, 0, 0)
  line L0 (25.5, -7.5728) -> (28.5, -7.5728) projected
  line L1 (25.5, -7.5728) -> (27.5, -7.5728)
  line L2 (27.5, -7.5728) -> (27.5, -11.2881)
  line L3 (27.5, -11.2881) -> (25.5, -11.2881)
  line L4 (25.5, -11.2881) -> (25.5, -7.5728)
  line L5 (31.5, -7.5728) -> (34.5, -7.5728) projected
  line L6 (34.5, -7.5728) -> (32.5, -7.5728)
  line L7 (32.5, -7.5728) -> (32.5, -12.173)
  line L8 (32.5, -12.173) -> (34.5, -12.173)
  line L9 (34.5, -12.173) -> (34.5, -7.5728)
  line L10 (34.5, -7.5728) -> (33.5, -7.5728)
  line L11 (33.5, -7.5728) -> (33.5, -13.7619)
  line L12 (33.5, -13.7619) -> (34.5, -13.7619)
  line L13 (34.5, -13.7619) -> (34.5, -7.5728)
  point P0 (0, 0)
  point P1 (33.5, -12.173)
  dimension "d105" = 2
  dimension "d106" = 2
extrude "Extrusion11" cut sketch "Sketch15" against normal blind 7.7 contours L0 L2 L3 L4 | L5 L9 L8 L11
sketch "Sketch16" plane through (0, 5, 0) normal (0, 1, 0) x (1, 0, 0)
  line L0 (27.5, -9.7029) -> (27.5, -7.5728) projected
  line L1 (27.5, -7.5728) -> (28.5, -7.5728)
  line L2 (28.5, -7.5728) -> (28.5, -10.975)
  line L3 (28.5, -10.975) -> (27.5, -10.975)
  line L4 (27.5, -10.975) -> (27.5, -7.5728)
  point P0 (0, 0)
  dimension "d109" = 1
extrude "Extrusion12" cut sketch "Sketch16" against normal blind 12.9375
sketch "Sketch17" plane through (0, 5, 0) normal (0, 1, 0) x (1, 0, 0)
  point P0 (0, 0)
properties part number "NewConceptArm free V2"
